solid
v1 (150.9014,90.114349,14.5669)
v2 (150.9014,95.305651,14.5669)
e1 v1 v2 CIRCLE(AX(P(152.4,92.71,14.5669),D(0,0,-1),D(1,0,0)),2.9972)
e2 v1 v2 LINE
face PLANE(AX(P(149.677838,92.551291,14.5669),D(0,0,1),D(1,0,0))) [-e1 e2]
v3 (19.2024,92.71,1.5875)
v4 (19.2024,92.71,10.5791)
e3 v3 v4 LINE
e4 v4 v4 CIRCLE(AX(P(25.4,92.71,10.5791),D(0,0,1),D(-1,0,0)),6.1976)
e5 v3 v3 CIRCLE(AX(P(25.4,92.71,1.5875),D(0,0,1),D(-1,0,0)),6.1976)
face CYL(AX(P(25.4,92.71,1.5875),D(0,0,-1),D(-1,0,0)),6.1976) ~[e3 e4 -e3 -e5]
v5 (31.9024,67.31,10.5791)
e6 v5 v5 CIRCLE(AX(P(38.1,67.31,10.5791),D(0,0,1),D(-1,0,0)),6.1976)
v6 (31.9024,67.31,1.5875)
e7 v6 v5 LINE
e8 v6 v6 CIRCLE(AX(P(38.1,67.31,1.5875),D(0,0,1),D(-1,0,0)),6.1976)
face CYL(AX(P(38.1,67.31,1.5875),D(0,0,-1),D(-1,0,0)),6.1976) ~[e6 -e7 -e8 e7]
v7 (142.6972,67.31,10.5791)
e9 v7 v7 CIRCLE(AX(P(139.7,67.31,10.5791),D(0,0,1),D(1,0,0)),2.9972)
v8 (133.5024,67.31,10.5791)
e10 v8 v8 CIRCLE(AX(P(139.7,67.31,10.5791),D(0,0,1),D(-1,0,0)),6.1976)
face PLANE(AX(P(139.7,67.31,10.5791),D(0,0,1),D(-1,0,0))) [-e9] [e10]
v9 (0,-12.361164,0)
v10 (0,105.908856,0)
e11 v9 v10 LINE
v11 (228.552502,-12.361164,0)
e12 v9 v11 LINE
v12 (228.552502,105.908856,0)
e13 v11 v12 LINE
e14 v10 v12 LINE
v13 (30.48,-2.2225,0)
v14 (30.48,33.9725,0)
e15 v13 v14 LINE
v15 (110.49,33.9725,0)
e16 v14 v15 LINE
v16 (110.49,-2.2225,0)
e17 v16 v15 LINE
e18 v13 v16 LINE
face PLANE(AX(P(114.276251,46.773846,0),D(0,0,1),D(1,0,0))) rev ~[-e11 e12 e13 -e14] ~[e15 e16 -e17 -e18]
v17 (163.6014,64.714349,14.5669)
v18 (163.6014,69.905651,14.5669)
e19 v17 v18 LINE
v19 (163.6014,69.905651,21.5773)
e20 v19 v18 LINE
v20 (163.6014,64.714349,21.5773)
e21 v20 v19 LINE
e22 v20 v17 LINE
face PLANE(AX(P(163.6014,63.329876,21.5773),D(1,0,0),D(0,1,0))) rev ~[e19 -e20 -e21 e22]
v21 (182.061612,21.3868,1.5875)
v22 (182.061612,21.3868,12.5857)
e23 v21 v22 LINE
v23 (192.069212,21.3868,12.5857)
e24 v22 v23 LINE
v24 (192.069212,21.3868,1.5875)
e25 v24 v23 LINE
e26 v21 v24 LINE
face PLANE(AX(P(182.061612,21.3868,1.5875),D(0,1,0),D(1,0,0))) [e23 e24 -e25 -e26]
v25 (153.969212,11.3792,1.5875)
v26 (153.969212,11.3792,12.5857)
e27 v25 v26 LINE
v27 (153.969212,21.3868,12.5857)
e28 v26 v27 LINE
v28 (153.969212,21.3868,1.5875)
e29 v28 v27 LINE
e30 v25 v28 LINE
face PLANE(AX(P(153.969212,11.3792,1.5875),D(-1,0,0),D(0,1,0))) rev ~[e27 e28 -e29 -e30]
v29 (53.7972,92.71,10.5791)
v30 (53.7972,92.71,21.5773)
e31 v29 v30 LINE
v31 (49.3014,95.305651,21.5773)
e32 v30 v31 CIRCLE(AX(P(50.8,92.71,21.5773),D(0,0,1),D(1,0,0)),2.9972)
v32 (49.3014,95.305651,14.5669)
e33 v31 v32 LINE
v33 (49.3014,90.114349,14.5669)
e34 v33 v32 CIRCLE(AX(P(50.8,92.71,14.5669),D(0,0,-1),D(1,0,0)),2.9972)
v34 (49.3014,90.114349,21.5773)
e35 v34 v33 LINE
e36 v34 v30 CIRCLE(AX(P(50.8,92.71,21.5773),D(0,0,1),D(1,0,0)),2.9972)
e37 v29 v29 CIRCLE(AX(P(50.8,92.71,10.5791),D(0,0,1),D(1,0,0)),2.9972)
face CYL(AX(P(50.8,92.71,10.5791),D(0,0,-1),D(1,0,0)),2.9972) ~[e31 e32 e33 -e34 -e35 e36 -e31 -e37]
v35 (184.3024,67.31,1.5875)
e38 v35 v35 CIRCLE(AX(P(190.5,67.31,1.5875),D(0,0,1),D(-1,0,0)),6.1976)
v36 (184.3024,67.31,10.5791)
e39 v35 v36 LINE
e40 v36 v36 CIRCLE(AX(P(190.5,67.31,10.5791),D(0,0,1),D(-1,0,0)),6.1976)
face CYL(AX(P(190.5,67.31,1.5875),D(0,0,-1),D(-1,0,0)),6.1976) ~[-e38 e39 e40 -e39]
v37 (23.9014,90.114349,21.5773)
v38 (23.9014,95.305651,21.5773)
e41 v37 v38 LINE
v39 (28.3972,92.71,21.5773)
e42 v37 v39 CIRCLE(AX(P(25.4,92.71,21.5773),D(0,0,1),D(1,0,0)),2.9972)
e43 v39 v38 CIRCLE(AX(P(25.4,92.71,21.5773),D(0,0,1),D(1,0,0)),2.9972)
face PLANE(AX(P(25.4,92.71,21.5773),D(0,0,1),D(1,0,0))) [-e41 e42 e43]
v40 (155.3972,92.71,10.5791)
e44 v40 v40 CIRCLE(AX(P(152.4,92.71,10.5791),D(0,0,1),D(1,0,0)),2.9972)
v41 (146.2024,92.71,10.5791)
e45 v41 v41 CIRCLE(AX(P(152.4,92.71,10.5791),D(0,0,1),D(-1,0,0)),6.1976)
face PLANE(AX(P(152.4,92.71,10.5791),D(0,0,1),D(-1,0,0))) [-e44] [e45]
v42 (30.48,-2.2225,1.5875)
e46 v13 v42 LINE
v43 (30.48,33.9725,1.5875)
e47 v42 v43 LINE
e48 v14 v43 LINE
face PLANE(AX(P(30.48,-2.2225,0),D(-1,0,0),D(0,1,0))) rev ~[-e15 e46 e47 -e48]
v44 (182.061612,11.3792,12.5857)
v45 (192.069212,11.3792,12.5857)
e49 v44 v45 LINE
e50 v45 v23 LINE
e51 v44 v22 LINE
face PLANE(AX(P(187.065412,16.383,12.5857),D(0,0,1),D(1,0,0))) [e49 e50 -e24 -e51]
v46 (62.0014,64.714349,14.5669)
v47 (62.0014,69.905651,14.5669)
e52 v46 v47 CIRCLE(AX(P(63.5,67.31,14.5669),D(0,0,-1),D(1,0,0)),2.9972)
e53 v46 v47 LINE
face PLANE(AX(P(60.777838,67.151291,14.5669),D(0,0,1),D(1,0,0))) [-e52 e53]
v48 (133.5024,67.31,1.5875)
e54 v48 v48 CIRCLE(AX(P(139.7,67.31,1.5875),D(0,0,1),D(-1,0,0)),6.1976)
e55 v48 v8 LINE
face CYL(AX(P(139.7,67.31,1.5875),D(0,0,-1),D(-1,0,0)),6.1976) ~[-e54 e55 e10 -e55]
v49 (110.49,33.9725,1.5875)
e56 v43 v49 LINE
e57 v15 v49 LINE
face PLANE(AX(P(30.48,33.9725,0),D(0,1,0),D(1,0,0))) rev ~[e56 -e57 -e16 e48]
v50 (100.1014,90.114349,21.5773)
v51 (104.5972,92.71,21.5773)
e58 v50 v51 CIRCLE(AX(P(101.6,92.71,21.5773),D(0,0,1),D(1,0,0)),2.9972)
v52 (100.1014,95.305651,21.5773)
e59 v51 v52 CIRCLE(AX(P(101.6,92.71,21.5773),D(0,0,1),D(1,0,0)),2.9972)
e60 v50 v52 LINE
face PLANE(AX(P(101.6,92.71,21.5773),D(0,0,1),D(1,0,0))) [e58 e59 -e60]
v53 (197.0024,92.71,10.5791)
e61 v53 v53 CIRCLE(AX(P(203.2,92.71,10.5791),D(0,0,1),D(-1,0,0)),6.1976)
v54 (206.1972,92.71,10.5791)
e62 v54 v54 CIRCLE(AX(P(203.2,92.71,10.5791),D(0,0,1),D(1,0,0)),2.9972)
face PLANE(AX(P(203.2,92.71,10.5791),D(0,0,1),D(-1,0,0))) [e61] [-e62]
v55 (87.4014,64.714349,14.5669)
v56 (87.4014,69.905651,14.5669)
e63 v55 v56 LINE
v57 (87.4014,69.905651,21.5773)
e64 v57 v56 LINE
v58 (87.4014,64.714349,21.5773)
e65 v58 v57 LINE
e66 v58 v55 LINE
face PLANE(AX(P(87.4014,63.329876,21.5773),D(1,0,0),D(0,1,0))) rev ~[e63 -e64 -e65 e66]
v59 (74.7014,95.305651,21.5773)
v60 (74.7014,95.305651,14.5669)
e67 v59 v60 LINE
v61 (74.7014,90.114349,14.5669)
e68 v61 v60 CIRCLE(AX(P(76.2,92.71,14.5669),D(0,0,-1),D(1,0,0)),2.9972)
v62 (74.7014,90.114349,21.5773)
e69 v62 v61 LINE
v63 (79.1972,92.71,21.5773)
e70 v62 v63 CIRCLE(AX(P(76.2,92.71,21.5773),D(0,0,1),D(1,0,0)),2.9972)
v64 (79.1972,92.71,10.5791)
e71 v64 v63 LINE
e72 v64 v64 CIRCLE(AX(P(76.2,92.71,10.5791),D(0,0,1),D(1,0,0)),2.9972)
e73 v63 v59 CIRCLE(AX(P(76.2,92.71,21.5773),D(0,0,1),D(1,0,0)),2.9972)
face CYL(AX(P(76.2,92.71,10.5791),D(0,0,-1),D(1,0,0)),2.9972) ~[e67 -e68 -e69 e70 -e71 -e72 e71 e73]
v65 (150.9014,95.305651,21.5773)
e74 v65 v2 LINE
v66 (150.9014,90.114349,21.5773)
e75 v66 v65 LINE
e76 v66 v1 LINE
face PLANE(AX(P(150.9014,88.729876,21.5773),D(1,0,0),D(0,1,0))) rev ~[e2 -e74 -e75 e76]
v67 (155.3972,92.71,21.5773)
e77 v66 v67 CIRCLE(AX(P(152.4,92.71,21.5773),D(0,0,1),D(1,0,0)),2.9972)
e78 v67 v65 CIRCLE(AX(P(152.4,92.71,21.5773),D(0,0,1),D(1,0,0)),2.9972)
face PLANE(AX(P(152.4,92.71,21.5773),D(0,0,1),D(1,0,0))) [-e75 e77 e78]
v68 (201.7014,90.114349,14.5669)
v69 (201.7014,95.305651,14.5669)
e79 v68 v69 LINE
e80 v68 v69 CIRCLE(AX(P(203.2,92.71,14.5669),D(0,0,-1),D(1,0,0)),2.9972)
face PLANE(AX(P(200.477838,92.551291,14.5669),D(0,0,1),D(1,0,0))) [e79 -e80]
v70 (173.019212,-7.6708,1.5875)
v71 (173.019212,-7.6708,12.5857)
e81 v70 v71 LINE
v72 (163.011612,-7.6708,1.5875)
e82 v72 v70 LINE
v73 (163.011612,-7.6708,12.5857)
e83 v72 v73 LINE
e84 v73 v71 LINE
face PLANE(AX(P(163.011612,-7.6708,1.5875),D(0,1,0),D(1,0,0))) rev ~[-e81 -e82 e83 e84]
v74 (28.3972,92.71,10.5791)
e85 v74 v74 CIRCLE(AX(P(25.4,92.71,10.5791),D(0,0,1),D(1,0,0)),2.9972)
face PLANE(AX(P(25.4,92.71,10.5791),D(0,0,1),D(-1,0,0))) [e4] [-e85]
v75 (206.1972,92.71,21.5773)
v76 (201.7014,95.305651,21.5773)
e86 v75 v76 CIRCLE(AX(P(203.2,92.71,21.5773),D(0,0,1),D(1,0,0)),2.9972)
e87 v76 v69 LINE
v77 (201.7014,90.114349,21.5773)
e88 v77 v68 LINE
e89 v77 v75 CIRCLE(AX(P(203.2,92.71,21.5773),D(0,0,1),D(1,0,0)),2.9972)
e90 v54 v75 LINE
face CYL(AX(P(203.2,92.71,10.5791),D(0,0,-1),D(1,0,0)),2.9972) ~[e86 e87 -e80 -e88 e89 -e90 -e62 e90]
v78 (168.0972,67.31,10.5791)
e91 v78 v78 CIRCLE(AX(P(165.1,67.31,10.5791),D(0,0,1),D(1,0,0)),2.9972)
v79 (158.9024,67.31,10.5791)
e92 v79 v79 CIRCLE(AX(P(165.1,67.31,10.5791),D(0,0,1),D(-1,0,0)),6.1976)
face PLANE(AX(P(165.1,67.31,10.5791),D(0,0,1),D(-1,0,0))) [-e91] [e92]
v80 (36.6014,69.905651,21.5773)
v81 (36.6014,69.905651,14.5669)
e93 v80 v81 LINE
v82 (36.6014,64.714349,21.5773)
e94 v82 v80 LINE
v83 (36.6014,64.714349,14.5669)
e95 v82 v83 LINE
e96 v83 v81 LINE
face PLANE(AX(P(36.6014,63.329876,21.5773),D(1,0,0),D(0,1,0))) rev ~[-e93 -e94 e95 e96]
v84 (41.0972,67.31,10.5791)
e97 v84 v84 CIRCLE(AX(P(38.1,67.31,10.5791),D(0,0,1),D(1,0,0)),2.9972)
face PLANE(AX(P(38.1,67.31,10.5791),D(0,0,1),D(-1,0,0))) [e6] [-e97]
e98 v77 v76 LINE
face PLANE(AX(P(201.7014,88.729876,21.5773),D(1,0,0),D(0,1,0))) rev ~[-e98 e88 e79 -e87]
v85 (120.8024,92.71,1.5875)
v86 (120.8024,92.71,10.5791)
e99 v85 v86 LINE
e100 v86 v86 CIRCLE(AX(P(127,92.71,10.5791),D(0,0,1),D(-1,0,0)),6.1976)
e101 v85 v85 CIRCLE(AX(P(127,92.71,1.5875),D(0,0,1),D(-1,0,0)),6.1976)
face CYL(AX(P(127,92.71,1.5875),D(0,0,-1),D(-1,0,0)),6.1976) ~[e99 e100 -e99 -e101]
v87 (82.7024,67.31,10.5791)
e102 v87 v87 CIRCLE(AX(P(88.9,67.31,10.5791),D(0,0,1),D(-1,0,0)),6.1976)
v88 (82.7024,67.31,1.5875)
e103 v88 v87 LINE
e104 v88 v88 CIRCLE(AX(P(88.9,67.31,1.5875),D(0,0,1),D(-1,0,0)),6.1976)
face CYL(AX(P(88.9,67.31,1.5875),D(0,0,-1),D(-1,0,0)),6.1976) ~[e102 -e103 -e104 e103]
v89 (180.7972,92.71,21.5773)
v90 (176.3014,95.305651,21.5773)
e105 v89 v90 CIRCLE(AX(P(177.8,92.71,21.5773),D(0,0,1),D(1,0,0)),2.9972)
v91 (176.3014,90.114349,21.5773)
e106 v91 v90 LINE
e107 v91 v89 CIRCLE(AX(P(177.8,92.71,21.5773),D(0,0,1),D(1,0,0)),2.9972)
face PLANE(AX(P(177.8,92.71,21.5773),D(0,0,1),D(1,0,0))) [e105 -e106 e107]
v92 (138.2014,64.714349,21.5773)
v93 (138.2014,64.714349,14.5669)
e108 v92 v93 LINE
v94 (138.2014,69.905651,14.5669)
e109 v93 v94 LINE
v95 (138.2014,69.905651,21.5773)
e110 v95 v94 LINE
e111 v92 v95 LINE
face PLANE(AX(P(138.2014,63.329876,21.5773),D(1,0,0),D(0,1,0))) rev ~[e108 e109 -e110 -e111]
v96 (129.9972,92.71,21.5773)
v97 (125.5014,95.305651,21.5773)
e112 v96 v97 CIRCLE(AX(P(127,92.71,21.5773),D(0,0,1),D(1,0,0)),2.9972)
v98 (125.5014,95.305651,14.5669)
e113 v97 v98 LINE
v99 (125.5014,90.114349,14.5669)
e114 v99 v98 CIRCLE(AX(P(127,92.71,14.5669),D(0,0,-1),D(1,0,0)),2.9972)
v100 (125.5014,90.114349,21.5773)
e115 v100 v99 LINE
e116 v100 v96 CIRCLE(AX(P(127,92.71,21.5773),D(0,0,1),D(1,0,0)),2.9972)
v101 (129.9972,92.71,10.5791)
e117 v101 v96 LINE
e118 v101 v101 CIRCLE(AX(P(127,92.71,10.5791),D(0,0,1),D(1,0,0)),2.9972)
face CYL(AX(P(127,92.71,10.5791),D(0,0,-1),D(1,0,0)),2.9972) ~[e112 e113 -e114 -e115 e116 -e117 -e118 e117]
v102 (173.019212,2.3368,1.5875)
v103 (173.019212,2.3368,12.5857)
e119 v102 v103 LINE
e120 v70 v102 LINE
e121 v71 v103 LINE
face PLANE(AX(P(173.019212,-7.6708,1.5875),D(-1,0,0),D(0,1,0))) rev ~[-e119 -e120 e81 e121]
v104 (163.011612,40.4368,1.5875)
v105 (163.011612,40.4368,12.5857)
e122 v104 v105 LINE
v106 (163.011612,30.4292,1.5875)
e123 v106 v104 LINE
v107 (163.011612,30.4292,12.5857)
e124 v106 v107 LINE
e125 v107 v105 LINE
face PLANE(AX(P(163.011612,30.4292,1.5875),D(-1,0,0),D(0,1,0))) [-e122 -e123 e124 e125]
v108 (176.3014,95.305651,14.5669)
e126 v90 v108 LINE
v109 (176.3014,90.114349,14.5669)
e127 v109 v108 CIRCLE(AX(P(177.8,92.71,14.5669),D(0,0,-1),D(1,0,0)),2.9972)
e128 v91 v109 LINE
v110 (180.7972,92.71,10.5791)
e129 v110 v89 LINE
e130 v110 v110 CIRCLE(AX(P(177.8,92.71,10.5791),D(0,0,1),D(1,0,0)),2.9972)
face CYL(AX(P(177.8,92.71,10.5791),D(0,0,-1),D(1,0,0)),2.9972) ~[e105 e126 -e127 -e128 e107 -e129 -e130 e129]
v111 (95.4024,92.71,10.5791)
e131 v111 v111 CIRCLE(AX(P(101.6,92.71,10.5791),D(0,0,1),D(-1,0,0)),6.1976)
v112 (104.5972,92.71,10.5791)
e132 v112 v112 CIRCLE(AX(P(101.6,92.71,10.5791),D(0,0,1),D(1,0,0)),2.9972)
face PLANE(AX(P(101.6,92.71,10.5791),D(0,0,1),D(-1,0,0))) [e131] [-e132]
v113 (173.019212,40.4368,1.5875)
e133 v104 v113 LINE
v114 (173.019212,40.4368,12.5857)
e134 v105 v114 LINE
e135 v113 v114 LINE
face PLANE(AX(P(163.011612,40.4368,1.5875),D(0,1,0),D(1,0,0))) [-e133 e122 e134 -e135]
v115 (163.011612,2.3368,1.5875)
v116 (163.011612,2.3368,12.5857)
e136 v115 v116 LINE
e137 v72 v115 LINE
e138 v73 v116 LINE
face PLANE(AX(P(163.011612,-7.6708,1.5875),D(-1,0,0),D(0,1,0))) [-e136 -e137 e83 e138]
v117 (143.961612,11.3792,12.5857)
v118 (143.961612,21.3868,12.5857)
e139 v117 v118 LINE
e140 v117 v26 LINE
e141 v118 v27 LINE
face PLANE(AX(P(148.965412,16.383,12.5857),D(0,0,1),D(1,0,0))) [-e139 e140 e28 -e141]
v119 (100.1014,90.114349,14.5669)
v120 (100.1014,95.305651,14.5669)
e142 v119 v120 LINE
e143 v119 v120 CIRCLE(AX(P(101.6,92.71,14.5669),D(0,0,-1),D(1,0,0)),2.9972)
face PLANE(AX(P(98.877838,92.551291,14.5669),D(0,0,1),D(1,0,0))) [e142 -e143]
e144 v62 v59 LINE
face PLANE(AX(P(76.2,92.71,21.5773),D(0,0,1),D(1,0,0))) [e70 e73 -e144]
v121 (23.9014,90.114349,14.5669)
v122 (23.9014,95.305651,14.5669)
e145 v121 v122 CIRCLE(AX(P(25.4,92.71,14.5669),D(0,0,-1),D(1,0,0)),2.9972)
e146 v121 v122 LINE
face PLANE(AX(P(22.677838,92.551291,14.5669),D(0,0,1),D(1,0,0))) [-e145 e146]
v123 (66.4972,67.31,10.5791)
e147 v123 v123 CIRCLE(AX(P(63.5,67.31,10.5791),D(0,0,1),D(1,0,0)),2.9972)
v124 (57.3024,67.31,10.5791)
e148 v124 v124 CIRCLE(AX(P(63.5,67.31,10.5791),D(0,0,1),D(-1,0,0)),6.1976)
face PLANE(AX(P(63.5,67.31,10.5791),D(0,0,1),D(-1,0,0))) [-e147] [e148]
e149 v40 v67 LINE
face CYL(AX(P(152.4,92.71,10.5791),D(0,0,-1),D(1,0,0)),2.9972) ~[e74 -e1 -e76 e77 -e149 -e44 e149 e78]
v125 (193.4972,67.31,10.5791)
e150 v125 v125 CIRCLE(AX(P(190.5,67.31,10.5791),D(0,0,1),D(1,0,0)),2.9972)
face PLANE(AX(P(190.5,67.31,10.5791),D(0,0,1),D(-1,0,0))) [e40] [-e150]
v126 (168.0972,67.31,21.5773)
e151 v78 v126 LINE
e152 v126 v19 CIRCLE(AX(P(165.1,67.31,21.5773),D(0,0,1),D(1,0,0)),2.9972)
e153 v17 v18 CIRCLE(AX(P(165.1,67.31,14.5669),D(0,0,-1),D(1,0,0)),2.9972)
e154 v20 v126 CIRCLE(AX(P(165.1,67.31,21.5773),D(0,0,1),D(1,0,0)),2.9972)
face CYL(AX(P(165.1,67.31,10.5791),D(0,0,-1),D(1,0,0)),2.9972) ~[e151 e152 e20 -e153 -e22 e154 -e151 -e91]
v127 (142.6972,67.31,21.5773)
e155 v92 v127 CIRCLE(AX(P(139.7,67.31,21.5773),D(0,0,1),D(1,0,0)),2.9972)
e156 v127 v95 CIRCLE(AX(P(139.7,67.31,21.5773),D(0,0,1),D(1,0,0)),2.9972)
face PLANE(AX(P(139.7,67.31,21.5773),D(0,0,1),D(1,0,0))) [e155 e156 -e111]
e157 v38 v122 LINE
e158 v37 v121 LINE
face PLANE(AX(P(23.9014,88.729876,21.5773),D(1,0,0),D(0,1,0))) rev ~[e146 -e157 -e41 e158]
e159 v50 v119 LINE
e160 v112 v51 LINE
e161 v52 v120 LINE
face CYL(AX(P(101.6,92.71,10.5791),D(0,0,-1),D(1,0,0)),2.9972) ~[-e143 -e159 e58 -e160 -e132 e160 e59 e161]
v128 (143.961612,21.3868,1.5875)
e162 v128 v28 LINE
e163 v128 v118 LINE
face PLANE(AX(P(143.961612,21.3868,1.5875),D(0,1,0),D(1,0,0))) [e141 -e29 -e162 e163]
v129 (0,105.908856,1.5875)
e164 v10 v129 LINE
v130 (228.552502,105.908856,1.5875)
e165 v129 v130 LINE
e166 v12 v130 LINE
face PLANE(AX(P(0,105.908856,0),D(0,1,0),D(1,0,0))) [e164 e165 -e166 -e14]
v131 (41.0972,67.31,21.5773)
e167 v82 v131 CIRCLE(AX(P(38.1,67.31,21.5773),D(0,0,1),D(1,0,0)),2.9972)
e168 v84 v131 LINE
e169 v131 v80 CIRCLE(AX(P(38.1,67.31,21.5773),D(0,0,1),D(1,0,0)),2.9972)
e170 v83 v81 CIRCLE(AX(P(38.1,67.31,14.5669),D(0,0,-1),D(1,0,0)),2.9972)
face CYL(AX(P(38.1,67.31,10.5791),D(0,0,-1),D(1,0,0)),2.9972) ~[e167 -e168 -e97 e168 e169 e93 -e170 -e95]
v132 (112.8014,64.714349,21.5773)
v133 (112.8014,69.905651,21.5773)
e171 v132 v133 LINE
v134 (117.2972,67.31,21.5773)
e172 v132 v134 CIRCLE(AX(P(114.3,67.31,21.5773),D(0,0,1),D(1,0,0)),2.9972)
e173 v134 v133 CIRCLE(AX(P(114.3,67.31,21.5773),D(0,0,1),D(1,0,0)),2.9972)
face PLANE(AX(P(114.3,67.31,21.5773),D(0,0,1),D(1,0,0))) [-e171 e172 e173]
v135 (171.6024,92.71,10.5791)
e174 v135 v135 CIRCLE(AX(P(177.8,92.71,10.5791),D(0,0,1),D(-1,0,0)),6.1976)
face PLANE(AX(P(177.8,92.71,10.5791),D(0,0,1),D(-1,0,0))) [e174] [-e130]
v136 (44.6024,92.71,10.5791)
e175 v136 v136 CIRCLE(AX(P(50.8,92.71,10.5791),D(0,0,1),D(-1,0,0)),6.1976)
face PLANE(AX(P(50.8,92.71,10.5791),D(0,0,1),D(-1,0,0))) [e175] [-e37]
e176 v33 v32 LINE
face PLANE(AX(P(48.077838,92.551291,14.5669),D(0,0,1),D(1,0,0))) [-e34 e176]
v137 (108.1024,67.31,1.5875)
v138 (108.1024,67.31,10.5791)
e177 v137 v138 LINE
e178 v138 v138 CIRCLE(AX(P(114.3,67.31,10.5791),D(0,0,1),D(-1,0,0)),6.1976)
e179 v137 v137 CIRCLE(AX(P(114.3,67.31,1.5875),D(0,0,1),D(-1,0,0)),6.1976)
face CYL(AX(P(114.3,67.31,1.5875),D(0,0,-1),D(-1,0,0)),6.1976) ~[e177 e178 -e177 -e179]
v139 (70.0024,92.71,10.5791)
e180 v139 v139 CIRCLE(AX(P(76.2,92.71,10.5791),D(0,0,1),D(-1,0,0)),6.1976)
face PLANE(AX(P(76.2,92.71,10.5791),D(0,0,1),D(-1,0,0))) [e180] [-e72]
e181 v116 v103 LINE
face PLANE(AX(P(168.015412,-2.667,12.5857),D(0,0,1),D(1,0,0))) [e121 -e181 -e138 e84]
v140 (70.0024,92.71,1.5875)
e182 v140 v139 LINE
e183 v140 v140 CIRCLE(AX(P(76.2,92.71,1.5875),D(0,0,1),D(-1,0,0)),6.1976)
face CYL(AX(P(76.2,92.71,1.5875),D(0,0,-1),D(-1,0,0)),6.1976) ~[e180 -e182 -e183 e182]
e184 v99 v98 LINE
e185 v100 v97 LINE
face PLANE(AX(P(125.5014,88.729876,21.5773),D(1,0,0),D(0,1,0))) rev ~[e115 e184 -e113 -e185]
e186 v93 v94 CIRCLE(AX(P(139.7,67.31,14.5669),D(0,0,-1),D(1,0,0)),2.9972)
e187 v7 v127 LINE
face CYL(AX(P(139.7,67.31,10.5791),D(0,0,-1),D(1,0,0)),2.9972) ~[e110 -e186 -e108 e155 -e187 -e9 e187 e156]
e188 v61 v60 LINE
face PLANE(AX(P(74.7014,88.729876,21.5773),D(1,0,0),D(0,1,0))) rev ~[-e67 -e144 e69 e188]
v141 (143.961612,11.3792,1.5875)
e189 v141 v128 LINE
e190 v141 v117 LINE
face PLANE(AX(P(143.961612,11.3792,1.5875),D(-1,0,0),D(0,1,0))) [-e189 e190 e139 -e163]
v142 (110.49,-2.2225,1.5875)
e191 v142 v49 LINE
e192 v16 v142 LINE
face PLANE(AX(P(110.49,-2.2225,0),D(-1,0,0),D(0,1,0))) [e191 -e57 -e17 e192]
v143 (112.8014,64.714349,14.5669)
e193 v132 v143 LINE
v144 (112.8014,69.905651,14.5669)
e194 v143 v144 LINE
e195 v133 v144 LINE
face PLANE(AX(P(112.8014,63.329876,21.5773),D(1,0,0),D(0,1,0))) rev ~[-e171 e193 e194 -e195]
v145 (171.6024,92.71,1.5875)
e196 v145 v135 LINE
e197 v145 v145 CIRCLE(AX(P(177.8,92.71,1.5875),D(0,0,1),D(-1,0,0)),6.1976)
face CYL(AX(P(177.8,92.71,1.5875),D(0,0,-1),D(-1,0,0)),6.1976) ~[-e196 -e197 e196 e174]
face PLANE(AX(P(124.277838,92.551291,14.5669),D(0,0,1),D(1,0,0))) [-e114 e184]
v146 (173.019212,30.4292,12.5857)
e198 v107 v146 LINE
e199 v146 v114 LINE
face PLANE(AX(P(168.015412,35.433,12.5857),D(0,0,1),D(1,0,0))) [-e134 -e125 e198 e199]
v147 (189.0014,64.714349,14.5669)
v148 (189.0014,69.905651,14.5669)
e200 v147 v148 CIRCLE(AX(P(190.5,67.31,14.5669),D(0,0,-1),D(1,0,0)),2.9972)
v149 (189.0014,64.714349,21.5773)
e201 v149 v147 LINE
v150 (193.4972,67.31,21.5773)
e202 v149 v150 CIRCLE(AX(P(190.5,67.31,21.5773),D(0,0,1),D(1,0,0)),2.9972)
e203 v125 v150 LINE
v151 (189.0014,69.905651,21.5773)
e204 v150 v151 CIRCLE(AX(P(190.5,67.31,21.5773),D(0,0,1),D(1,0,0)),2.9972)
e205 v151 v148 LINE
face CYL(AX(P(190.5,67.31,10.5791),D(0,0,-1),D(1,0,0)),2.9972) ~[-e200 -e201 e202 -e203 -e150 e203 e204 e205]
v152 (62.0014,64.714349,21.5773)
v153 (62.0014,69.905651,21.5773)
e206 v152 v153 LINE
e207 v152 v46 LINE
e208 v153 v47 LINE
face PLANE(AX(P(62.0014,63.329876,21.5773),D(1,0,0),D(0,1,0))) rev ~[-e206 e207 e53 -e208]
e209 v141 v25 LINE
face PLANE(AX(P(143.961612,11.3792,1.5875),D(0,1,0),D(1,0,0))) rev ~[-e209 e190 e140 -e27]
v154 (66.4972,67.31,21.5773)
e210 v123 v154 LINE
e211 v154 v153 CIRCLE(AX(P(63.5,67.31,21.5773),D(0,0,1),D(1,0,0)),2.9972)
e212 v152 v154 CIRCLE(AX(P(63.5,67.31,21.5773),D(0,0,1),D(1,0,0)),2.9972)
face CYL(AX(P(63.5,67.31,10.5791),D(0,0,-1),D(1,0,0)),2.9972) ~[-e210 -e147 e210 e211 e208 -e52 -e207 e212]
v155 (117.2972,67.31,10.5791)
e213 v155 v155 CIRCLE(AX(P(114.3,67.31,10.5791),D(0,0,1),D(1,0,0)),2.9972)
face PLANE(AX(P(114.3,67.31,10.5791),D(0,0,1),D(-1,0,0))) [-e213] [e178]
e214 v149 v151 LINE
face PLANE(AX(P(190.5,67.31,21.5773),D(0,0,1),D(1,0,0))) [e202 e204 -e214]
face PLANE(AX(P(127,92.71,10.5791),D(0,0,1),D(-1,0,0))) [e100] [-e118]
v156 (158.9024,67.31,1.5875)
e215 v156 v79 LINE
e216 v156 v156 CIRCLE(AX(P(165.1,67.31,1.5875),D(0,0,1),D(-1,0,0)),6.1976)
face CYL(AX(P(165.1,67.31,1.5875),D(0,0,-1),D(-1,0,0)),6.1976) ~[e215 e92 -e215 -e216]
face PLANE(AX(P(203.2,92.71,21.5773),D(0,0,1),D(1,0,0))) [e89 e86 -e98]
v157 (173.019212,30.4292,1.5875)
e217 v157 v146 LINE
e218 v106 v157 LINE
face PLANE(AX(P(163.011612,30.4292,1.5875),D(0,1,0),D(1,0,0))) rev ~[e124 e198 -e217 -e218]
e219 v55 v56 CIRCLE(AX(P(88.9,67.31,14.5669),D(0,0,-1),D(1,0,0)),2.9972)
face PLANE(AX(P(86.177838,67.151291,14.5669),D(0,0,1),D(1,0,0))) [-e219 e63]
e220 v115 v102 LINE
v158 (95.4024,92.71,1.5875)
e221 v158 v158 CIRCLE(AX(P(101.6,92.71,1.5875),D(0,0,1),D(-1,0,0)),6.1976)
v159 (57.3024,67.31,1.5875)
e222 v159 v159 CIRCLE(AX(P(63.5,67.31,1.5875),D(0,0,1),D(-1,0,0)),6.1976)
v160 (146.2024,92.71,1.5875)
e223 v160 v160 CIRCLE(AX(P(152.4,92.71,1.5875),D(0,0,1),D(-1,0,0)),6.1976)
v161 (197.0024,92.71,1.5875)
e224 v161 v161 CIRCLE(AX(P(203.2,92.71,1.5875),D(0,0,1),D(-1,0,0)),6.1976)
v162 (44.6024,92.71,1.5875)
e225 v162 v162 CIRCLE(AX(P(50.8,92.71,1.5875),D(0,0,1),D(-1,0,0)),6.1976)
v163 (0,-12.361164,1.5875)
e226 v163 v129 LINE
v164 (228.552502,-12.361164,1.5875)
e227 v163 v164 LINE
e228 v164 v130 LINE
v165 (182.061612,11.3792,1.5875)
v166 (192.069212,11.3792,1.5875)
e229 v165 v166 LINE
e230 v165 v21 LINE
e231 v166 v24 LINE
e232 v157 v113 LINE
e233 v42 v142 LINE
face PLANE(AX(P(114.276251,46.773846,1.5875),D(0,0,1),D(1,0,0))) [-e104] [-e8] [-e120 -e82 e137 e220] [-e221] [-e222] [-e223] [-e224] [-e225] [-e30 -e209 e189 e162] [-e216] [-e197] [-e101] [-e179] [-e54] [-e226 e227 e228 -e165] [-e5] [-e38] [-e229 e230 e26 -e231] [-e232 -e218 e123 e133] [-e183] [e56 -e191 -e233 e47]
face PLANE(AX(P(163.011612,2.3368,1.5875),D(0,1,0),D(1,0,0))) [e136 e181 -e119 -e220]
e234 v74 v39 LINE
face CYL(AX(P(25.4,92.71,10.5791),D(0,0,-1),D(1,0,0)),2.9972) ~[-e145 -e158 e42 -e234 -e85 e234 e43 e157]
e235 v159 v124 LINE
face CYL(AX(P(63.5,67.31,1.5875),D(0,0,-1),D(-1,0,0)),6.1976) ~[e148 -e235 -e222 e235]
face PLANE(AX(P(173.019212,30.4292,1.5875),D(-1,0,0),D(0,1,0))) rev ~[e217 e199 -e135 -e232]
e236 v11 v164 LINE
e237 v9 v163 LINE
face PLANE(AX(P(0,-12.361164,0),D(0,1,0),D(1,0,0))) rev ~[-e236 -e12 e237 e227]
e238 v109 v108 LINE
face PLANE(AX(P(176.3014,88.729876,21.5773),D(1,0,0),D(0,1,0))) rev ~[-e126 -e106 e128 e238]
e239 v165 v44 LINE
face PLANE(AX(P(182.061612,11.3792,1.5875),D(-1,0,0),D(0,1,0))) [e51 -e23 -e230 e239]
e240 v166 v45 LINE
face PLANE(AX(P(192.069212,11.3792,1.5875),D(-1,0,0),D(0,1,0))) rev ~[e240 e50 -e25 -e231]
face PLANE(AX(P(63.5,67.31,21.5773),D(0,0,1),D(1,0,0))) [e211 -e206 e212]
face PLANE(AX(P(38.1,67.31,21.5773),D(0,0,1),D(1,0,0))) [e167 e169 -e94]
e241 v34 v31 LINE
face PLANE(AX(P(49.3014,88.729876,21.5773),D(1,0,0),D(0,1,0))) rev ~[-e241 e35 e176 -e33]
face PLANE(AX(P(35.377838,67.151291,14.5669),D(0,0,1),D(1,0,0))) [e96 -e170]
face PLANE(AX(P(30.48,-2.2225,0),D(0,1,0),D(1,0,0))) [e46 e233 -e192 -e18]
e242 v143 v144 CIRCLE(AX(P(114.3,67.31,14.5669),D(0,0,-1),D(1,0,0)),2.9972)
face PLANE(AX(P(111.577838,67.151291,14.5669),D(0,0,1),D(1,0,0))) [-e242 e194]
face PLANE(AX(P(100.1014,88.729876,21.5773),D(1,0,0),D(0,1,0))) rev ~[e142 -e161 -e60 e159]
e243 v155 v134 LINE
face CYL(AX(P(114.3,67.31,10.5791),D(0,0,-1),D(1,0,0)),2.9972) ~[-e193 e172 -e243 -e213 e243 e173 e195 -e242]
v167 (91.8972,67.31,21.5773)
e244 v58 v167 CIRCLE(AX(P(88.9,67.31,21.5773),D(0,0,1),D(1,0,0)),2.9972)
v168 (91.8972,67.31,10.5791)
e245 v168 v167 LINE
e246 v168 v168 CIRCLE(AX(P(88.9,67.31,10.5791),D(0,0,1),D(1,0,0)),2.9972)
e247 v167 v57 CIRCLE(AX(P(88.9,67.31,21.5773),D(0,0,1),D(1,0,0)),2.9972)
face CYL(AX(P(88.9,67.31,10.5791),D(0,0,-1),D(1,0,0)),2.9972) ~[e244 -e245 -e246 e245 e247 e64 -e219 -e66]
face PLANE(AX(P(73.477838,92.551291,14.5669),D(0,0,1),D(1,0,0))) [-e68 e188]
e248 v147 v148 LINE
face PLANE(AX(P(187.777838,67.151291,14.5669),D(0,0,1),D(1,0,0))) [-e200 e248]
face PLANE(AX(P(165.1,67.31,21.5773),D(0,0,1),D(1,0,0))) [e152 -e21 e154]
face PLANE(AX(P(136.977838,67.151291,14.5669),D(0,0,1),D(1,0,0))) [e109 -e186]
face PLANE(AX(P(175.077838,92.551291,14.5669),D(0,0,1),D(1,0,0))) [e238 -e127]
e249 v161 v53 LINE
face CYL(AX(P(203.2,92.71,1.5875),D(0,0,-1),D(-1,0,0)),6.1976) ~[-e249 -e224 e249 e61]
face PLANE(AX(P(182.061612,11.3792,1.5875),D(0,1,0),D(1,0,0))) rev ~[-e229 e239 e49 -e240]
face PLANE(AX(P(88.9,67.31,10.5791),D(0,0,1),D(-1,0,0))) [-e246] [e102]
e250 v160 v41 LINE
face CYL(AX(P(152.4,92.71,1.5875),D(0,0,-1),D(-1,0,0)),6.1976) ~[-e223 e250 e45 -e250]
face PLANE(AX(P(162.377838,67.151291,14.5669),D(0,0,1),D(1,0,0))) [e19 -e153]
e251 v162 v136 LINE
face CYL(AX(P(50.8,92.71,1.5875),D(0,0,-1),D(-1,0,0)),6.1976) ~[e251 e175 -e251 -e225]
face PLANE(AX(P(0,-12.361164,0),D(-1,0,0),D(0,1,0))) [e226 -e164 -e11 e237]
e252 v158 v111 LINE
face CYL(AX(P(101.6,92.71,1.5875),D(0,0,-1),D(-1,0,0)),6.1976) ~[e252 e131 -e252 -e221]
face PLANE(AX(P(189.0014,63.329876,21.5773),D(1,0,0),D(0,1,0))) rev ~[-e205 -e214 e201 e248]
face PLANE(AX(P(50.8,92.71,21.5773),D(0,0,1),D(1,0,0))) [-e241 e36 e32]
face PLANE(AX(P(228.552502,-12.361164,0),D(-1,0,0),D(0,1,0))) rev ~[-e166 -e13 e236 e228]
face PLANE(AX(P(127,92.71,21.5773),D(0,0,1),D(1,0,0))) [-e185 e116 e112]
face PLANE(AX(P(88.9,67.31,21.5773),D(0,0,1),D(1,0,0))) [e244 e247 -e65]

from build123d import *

# Parameters (mm, degrees)
MODEL_W              = 228.552502
MODEL_H              = 118.27002
MODEL_W_2            = 80.01
MODEL_H_2            = 36.195
BOSS_EXTRUDE3_DEPTH  = 1.5875
SKETCH4_R            = 6.1976
BOSS_EXTRUDE4_DEPTH  = 8.9916
LPATTERN1_COUNT      = 15
LPATTERN1_PITCH      = 12.7
LPATTERN1_COUNT_DIR2 = 2
LPATTERN1_PITCH_DIR2 = 25.4
SKETCH5_R            = 2.9972
BOSS_EXTRUDE5_DEPTH  = 10.9982
SKETCH8_W            = 2.447124678
SKETCH8_H            = 7.642831421
CUT_EXTRUDE1_DEPTH   = 7.0104
LPATTERN2_COUNT      = 15
LPATTERN2_PITCH      = 12.7
LPATTERN2_COUNT_DIR2 = 2
LPATTERN2_PITCH_DIR2 = 25.4
SKETCH6_W            = 10.0076
SKETCH6_H            = 10.0076
BOSS_EXTRUDE6_DEPTH  = 10.9982
LPATTERN3_COUNT      = 3
LPATTERN3_PITCH      = 19.05
LPATTERN3_COUNT_DIR2 = 2
LPATTERN3_PITCH_DIR2 = 19.05
LPATTERN4_COUNT      = 2
LPATTERN4_PITCH      = 19.05
LPATTERN4_COUNT_DIR2 = 2
LPATTERN4_PITCH_DIR2 = 19.05


with BuildPart() as part:
    # Model → Boss-Extrude3 (new body)
    with BuildSketch(Plane.XY):
        with Locations((114.276251, 46.773846)):
            Rectangle(MODEL_W, MODEL_H)
        with Locations((70.485, 15.875)):
            Rectangle(MODEL_W_2, MODEL_H_2, mode=Mode.SUBTRACT)
    extrude(amount=BOSS_EXTRUDE3_DEPTH)

    # Sketch4 → Boss-Extrude4 (add)
    with BuildSketch(Plane.XY.offset(1.5875)):
        with Locations(Location((25.4, 92.71, 0), (0, 0, 180))):
            Circle(SKETCH4_R)
    boss_extrude4 = extrude(amount=BOSS_EXTRUDE4_DEPTH)

    # LPattern1: Boss-Extrude4 15 × 2, 15 skipped
    with Locations(*[(i * LPATTERN1_PITCH, -j * LPATTERN1_PITCH_DIR2, 0) for i in range(LPATTERN1_COUNT) for j in range(LPATTERN1_COUNT_DIR2) if (i, j) not in ((0, 0), (0, 1), (1, 0), (2, 1), (3, 0), (4, 1), (5, 0), (6, 1), (7, 0), (8, 1), (9, 0), (10, 1), (11, 0), (12, 1), (13, 0), (14, 1))]):
        add(boss_extrude4)

    # Sketch5 → Boss-Extrude5 (add)
    with BuildSketch(Plane.XY.offset(10.5791)):
        with Locations((25.4, 92.71)):
            Circle(SKETCH5_R)
    boss_extrude5 = extrude(amount=BOSS_EXTRUDE5_DEPTH)

    # Sketch8 → Cut-Extrude1 (cut)
    with BuildSketch(Plane.XY.offset(21.5773)):
        with Locations((22.677837661, 92.551291415)):
            Rectangle(SKETCH8_W, SKETCH8_H)
    cut_extrude1 = extrude(amount=-CUT_EXTRUDE1_DEPTH, mode=Mode.SUBTRACT)

    # LPattern2: Boss-Extrude5, Cut-Extrude1 15 × 2, 15 skipped
    with Locations(*[(i * LPATTERN2_PITCH, -j * LPATTERN2_PITCH_DIR2, 0) for i in range(LPATTERN2_COUNT) for j in range(LPATTERN2_COUNT_DIR2) if (i, j) not in ((0, 0), (0, 1), (1, 0), (2, 1), (3, 0), (4, 1), (5, 0), (6, 1), (7, 0), (8, 1), (9, 0), (10, 1), (11, 0), (12, 1), (13, 0), (14, 1))]):
        add(boss_extrude5)
        add(cut_extrude1, mode=Mode.SUBTRACT)

    # Sketch6 → Boss-Extrude6 (add)
    with BuildSketch(Plane.XY.offset(1.5875)):
        with Locations((148.965412, 16.383)):
            Rectangle(SKETCH6_W, SKETCH6_H)
    boss_extrude6 = extrude(amount=BOSS_EXTRUDE6_DEPTH)

    # LPattern3: Boss-Extrude6 3 × 2, 3 skipped
    with Locations(*[(i * LPATTERN3_PITCH, -j * LPATTERN3_PITCH_DIR2, 0) for i in range(LPATTERN3_COUNT) for j in range(LPATTERN3_COUNT_DIR2) if (i, j) not in ((0, 0), (0, 1), (1, 0), (2, 1))]):
        add(boss_extrude6)

    # LPattern4: Boss-Extrude6 2 × 2, 2 skipped
    with Locations(*[(j * LPATTERN4_PITCH_DIR2, i * LPATTERN4_PITCH, 0) for i in range(LPATTERN4_COUNT) for j in range(LPATTERN4_COUNT_DIR2) if (i, j) not in ((0, 0), (0, 1), (1, 0))]):
        add(boss_extrude6)


solid = part.part
